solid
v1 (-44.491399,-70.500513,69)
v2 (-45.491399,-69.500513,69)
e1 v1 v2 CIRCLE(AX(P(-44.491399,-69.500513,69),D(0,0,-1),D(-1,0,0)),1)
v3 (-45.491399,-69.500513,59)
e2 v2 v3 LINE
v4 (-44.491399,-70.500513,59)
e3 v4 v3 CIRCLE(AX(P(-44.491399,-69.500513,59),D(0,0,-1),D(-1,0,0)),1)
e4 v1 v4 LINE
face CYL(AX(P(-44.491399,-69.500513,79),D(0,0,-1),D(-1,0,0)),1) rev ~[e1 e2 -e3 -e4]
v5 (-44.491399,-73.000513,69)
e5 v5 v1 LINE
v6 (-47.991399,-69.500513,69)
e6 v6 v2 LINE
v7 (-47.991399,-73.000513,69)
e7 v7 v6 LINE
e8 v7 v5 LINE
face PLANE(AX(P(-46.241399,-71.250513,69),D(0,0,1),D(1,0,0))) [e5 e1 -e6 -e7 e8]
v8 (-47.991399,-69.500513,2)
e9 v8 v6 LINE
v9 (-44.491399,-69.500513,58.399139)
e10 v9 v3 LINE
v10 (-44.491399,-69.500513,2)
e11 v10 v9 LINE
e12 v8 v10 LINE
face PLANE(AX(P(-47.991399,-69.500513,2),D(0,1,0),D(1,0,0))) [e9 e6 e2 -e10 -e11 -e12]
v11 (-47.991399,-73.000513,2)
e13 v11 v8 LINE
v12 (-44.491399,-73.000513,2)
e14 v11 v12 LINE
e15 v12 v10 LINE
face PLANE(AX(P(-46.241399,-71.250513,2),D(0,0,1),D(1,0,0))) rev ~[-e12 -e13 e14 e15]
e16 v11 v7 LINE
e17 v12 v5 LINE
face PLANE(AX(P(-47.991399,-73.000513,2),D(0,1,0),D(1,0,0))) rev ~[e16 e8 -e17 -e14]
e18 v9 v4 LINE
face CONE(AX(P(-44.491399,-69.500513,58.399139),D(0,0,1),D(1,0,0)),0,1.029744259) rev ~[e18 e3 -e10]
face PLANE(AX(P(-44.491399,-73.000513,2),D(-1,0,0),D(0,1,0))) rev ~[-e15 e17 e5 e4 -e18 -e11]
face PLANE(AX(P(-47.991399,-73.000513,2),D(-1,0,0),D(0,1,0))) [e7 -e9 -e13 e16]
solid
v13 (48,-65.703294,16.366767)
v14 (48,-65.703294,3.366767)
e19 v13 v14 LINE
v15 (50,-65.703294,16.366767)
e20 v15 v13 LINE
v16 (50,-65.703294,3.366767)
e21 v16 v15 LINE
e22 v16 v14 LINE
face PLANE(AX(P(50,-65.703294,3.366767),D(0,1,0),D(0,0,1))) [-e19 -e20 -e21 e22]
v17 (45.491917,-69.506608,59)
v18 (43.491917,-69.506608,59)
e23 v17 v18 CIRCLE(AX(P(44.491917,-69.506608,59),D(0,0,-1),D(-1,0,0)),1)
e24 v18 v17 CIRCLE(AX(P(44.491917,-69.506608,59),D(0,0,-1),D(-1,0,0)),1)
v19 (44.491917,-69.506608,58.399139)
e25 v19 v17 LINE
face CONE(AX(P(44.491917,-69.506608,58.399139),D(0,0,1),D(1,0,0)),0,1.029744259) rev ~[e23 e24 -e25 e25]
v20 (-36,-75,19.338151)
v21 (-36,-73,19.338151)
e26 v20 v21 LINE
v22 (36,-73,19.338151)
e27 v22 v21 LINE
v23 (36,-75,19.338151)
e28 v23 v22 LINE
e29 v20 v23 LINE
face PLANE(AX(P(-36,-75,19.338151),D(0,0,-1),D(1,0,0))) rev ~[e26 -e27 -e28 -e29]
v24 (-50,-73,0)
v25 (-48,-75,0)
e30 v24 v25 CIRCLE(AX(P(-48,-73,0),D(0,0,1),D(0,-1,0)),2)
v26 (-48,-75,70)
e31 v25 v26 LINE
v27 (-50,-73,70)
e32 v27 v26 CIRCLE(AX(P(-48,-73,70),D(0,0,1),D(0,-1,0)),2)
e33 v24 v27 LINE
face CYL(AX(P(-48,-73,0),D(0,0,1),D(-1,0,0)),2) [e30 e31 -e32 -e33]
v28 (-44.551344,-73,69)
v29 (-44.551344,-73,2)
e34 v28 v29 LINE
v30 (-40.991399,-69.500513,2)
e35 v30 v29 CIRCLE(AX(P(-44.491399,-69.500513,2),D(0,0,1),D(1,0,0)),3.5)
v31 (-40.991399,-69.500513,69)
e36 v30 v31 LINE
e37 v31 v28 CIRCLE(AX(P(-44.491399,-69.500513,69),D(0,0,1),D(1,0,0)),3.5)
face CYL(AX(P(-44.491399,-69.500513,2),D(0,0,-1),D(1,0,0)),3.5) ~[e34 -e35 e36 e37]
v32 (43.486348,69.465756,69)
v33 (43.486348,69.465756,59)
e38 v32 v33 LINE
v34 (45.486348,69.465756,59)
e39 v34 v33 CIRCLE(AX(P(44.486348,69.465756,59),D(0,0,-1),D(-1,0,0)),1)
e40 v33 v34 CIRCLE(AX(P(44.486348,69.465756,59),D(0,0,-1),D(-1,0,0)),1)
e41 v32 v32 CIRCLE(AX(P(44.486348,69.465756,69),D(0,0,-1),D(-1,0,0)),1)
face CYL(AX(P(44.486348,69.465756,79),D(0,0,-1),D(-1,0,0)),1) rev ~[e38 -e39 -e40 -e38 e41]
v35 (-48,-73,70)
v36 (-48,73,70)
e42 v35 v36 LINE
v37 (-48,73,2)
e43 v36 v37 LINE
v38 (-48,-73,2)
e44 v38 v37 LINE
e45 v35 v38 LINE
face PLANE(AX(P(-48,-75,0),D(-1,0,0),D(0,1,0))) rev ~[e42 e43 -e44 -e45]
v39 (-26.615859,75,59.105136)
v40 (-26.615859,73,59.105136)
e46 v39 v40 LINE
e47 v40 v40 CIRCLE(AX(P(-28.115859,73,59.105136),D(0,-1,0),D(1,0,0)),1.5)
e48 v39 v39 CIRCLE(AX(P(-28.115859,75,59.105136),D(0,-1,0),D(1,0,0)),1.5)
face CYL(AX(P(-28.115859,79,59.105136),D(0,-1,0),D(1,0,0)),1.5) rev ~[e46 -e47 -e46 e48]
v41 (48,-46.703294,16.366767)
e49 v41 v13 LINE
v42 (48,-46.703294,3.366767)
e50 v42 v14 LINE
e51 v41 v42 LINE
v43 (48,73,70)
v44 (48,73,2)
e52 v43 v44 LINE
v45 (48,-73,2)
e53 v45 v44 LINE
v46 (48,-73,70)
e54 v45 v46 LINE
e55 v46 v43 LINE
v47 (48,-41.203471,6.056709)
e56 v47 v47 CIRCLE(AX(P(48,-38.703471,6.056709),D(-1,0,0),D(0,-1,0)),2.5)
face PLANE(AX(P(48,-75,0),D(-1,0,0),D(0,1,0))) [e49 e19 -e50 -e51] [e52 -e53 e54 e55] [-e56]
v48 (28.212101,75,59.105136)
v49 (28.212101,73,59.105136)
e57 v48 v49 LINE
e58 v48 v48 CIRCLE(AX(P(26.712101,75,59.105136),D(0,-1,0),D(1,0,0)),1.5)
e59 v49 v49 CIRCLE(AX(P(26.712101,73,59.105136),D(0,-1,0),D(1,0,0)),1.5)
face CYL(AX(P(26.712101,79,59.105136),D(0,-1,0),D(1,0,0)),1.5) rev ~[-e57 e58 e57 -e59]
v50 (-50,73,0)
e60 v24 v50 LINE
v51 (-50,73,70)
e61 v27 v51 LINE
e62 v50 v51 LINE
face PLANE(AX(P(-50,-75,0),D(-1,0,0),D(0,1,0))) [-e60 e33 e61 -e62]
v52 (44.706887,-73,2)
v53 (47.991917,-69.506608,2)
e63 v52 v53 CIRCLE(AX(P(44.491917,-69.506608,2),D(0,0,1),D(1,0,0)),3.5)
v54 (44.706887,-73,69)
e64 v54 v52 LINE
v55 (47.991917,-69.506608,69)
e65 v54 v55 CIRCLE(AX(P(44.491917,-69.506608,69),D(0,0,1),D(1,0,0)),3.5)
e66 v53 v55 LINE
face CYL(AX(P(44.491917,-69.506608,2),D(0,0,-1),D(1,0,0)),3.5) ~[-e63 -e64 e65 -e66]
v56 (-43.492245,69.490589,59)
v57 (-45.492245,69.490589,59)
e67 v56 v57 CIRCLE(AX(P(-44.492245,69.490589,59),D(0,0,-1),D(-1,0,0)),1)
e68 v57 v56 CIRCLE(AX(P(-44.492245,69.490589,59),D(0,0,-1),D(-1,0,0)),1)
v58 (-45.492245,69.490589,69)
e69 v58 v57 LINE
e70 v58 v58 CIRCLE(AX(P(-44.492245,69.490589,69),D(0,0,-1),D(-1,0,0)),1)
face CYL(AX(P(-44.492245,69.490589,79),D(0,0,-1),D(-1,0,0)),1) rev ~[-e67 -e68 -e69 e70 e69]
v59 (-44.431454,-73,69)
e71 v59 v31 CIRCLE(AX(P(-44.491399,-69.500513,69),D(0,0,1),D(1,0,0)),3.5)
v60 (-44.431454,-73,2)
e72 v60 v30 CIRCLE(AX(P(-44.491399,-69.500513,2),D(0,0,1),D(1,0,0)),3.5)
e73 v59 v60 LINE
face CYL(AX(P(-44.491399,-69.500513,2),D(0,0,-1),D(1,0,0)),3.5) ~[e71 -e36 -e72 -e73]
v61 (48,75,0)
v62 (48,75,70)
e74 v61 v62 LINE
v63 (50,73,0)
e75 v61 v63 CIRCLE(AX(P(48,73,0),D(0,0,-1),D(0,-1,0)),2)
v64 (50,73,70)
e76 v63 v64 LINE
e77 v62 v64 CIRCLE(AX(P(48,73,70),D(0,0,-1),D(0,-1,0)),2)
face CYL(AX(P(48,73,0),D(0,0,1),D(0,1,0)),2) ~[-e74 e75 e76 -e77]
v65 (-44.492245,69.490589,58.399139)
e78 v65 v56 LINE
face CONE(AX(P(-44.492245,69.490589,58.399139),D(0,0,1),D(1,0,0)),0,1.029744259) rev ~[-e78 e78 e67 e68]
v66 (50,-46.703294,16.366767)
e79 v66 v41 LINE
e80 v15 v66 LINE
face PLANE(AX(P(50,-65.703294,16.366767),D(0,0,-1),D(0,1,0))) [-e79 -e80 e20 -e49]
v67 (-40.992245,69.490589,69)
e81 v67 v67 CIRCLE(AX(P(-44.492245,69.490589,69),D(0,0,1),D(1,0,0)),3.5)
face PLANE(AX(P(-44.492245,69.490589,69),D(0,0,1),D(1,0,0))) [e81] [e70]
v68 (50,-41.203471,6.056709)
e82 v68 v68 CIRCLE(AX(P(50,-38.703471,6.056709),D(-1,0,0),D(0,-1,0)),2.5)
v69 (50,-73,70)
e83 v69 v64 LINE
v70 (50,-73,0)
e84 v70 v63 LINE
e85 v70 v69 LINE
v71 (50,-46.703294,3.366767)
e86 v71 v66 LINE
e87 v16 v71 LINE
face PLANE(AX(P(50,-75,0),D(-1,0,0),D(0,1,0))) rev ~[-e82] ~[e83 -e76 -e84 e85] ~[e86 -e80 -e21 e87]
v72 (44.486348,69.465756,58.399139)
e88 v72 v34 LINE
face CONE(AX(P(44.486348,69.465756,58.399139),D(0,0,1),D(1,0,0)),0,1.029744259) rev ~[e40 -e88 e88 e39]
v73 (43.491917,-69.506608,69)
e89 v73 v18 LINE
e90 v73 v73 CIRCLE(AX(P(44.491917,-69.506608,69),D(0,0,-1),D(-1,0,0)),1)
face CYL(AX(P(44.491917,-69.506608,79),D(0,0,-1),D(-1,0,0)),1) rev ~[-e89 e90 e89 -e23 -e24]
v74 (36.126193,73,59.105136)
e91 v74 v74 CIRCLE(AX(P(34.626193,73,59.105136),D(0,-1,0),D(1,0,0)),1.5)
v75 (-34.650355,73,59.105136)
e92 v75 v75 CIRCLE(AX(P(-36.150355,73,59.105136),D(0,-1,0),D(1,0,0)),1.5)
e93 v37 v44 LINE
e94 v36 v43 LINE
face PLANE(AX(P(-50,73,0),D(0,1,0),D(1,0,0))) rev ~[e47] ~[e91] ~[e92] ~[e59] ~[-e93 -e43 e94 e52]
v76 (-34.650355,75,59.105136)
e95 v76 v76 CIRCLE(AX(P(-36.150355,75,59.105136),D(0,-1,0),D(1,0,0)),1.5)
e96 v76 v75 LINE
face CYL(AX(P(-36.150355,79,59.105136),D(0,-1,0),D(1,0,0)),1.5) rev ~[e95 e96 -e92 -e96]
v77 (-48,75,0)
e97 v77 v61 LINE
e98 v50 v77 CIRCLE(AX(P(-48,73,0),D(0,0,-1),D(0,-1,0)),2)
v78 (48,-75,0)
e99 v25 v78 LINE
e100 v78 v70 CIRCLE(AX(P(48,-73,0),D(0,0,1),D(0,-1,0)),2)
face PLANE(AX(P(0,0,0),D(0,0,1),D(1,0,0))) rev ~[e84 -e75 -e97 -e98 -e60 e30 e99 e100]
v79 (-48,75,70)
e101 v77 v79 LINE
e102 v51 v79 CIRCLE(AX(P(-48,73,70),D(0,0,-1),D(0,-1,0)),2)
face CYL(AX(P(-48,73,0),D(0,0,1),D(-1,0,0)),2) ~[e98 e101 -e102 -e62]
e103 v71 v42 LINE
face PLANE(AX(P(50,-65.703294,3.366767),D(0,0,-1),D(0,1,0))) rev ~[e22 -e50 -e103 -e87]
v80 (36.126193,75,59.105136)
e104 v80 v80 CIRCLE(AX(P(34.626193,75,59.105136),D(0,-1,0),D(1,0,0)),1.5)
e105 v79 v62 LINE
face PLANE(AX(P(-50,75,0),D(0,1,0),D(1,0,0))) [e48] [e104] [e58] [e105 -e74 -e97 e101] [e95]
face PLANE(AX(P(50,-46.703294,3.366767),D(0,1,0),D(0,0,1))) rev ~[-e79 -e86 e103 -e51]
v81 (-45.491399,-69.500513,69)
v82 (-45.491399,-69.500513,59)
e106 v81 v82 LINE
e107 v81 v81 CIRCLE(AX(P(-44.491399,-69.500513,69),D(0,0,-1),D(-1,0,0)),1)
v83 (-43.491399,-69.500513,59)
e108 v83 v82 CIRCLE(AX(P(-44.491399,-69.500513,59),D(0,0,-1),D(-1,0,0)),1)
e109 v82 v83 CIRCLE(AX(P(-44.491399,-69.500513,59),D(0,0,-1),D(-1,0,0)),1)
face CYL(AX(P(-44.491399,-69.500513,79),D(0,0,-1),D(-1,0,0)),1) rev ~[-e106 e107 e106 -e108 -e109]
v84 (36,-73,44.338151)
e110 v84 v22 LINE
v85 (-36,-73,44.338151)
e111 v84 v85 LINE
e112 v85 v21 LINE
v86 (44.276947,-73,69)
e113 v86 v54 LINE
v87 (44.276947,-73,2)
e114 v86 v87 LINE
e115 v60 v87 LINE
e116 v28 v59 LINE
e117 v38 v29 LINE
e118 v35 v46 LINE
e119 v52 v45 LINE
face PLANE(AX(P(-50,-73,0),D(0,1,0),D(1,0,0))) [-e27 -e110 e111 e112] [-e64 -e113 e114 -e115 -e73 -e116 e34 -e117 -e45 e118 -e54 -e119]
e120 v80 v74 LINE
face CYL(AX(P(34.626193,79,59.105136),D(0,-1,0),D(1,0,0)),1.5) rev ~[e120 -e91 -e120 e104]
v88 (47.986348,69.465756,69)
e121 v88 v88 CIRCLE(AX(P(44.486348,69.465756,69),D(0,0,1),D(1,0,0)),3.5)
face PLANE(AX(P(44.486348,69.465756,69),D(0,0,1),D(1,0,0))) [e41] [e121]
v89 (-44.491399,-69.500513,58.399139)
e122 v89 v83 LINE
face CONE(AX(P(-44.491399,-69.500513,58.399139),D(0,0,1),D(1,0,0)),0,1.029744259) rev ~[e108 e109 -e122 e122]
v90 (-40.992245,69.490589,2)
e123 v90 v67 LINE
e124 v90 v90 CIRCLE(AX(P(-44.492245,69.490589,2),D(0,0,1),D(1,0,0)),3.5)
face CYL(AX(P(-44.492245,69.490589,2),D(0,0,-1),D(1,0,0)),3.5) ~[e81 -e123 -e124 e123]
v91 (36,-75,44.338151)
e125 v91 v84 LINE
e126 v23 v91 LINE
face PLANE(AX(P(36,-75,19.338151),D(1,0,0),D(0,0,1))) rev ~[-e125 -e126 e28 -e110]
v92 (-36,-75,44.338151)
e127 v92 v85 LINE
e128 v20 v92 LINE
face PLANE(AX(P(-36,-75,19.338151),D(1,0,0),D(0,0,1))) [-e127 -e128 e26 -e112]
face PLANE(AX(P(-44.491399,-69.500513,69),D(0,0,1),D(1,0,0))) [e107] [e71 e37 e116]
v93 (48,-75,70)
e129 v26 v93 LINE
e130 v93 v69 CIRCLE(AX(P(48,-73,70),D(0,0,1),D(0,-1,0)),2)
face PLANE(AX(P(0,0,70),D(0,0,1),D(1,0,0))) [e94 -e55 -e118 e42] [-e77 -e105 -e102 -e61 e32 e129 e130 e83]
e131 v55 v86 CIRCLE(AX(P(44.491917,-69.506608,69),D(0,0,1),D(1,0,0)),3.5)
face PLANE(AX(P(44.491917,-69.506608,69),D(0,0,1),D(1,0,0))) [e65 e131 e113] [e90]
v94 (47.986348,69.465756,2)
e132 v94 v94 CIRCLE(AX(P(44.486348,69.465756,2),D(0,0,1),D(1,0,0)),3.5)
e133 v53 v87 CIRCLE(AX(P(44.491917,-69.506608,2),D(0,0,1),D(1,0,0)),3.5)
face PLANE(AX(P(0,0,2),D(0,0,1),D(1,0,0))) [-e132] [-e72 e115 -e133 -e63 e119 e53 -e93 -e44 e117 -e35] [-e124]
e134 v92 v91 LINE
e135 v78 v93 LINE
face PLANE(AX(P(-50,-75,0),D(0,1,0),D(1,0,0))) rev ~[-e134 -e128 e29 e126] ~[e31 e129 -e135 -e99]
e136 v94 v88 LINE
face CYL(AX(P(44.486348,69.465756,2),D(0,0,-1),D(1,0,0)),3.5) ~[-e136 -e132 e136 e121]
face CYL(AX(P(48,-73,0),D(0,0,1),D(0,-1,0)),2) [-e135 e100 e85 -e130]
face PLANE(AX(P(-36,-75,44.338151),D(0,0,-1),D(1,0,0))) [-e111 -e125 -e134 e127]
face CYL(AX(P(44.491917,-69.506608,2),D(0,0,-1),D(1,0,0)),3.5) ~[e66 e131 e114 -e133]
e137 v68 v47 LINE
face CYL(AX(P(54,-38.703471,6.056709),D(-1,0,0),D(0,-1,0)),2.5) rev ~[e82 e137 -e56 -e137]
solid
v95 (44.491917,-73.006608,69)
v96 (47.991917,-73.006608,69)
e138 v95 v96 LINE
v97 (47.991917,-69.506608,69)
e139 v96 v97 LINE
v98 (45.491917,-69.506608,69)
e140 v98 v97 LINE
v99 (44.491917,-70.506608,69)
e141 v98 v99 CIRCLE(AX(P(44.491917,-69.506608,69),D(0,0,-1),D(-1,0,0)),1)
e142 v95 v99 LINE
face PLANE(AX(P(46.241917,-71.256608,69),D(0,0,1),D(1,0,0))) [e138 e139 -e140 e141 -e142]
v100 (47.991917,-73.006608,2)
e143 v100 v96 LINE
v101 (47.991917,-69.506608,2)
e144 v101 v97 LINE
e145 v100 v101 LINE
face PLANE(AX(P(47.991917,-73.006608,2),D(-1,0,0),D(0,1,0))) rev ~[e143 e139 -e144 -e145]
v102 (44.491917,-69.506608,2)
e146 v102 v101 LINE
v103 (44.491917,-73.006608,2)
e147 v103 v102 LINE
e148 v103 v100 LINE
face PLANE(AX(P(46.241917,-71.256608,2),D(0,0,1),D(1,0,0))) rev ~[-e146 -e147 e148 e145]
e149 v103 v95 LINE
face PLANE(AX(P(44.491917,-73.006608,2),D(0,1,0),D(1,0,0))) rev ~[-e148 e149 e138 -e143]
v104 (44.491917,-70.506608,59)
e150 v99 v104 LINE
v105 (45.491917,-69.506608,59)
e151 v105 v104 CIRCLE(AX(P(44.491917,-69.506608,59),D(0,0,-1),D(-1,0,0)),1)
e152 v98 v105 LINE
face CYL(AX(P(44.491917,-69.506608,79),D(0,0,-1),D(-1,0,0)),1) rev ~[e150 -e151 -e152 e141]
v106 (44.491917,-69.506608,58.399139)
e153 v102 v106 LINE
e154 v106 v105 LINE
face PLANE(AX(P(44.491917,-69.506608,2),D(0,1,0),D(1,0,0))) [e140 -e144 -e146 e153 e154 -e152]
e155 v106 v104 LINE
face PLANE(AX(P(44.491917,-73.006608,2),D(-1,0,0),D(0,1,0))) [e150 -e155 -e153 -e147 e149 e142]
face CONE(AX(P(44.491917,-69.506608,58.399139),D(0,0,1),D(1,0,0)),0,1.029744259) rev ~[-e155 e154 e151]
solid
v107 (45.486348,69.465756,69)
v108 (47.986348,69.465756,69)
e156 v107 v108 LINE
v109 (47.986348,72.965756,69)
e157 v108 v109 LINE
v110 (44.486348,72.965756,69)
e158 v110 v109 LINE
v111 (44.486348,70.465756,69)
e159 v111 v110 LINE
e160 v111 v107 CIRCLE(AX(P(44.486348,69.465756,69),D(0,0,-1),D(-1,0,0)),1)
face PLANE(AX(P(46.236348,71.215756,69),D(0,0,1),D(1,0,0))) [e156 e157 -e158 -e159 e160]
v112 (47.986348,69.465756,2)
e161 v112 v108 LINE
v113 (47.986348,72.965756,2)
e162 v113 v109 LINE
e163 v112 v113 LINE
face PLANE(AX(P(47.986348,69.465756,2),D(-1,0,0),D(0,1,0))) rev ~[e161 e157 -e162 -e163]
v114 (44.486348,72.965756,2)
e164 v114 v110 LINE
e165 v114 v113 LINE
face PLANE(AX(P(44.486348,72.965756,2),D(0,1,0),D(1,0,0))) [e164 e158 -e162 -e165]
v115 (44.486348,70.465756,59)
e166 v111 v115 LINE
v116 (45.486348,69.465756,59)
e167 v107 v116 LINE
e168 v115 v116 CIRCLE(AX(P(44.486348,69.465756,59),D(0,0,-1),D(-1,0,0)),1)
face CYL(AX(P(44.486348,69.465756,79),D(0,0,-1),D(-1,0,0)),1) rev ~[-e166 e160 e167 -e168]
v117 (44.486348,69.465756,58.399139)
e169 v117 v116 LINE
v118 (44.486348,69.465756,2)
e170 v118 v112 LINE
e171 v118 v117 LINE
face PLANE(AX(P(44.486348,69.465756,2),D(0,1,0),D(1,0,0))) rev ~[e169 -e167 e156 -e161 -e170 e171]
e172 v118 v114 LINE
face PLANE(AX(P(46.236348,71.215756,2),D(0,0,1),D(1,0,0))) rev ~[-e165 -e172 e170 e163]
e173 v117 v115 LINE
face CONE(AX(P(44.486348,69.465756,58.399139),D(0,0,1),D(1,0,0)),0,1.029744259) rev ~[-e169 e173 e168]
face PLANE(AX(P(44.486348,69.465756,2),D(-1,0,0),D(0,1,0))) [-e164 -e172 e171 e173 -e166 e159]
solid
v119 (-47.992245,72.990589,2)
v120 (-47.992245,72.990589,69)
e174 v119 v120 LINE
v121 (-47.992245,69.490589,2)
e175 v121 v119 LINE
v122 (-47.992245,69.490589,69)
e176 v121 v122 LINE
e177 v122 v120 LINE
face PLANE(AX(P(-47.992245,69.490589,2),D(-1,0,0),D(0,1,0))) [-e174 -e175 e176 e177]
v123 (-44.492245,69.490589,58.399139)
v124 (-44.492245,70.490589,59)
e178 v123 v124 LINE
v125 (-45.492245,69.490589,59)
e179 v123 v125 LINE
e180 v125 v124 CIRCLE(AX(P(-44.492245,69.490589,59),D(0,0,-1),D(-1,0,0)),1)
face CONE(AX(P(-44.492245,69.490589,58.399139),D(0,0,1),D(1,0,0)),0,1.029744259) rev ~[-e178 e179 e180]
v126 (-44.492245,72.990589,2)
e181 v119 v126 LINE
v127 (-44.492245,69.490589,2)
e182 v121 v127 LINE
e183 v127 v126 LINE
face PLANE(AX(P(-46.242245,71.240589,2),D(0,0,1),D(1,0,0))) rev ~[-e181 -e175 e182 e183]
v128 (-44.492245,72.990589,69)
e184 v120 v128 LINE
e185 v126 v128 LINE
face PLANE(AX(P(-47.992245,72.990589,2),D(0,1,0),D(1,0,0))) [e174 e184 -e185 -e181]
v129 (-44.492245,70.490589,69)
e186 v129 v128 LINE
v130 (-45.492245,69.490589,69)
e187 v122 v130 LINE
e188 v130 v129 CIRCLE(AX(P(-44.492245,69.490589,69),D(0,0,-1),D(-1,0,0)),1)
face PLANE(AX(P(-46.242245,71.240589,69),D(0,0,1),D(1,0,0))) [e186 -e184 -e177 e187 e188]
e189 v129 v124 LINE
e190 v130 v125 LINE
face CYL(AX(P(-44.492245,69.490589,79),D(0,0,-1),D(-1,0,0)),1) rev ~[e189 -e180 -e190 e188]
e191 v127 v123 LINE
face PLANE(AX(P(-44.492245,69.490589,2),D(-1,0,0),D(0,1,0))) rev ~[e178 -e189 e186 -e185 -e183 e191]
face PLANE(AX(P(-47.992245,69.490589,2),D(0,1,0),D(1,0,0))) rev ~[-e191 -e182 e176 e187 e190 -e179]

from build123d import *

# Parameters (mm, degrees)
F0_W               = 100
F0_H               = 150
F1_DEPTH           = 70
F2_T               = -2
F3_W               = 72
F3_H               = 25
F4_DEPTH           = 3
F6_D               = 3
F6_DEPTH           = 4
F6_TIP             = 0.9012909285
F8_D               = 5
F8_DEPTH           = 4
F8_TIP             = 1.5021515476
F9_R               = 2
F10_R              = 3.5
F11_R              = 3.5
F13_R              = 3.5
F12_R              = 3.5
F14_DEPTH          = 67
F15_W              = 3.5
F15_H              = 3.5
F16_DEPTH          = 67
F21_D              = 2
F21_DEPTH          = 10
F21_TIP            = 0.600860619
F21_2_D            = 2
F21_2_DEPTH        = 10
F21_2_TIP          = 0.600860619
F21_ON_F18_D       = 2
F21_ON_F18_DEPTH   = 10
F21_ON_F18_TIP     = 0.600860619
F21_ON_F18_2_D     = 2
F21_ON_F18_2_DEPTH = 10
F21_ON_F18_2_TIP   = 0.600860619
F21_ON_F19_D       = 2
F21_ON_F19_DEPTH   = 10
F21_ON_F19_TIP     = 0.600860619
F21_ON_F19_2_D     = 2
F21_ON_F19_2_DEPTH = 10
F21_ON_F19_2_TIP   = 0.600860619
F21_ON_F20_D       = 2
F21_ON_F20_DEPTH   = 10
F21_ON_F20_TIP     = 0.600860619
F21_ON_F20_2_D     = 2
F21_ON_F20_2_DEPTH = 10
F21_ON_F20_2_TIP   = 0.600860619
F22_W              = 19
F22_H              = 13
F23_DEPTH          = 25.4


with BuildPart() as f1:
    # F0 (on Top) → F1 (new body)
    with BuildSketch(Plane.XY):
        Rectangle(F0_W, F0_H)
    extrude(amount=F1_DEPTH)

    # F2
    f2_openings = [f1.faces().sort_by_distance(p)[0] for p in [
        (0, 0, 70),
    ]]
    offset(amount=F2_T, openings=f2_openings)

    # F3 (on face) → F4 (cut)
    with BuildSketch(Plane.XZ.offset(75)):
        with Locations((0, 31.8381508402)):
            Rectangle(F3_W, F3_H)
    extrude(amount=-F4_DEPTH, mode=Mode.SUBTRACT)

    # F6
    with Locations(Plane(origin=(0, 75, 0), x_dir=(-1, 0, 0), z_dir=(0, 1, 0))):
        with Locations((-34.6261933446, 59.1051355004), (-26.7121009529, 59.1051355004), (28.1158592552, 59.1051355004), (36.150354892, 59.1051355004)):
            Hole(F6_D / 2, depth=F6_DEPTH)
            with Locations((0, 0, -(F6_DEPTH + F6_TIP / 2))):  # 118° drill point
                Cone(0, F6_D / 2, F6_TIP, mode=Mode.SUBTRACT)

    # F8
    with Locations(Plane.YZ.offset(50)):
        with Locations((-38.7034714222, 6.0567087494)):
            Hole(F8_D / 2, depth=F8_DEPTH)
            with Locations((0, 0, -(F8_DEPTH + F8_TIP / 2))):  # 118° drill point
                Cone(0, F8_D / 2, F8_TIP, mode=Mode.SUBTRACT)

    # F9
    f9_edges = [f1.edges().sort_by_distance(p)[0] for p in [
        (-50, -75, 35),
        (-50, 75, 35),
        (50, 75, 35),
        (50, -75, 35),
    ]]
    fillet(f9_edges, radius=F9_R)

    # F10 (on face) + F11 (on face) + F13 (on face) + F12 (on face) → F14 (join)
    with BuildSketch(Plane.XY.offset(2)):
        with Locations((-44.4922447205, 69.4905892015)):
            Circle(F10_R)
    with BuildSketch(Plane.XY.offset(2)):
        with Locations((44.4863475859, 69.4657564163)):
            Circle(F11_R)
    with BuildSketch(Plane.XY.offset(2)):
        with Locations((-44.4913990796, -69.5005133748)):
            Circle(F13_R)
    with BuildSketch(Plane.XY.offset(2)):
        with Locations((44.4919168949, -69.5066079497)):
            Circle(F12_R)
    extrude(amount=F14_DEPTH)

    # F21
    with Locations(Plane.XY.offset(69)):
        with Locations((-44.4913990796, -69.5005133748)):
            Hole(F21_D / 2, depth=F21_DEPTH)
            with Locations((0, 0, -(F21_DEPTH + F21_TIP / 2))):  # 118° drill point
                Cone(0, F21_D / 2, F21_TIP, mode=Mode.SUBTRACT)

    # F21 on F18
    with Locations(Plane.XY.offset(69)):
        with Locations((-44.4922447205, 69.4905892015)):
            Hole(F21_ON_F18_D / 2, depth=F21_ON_F18_DEPTH)
            with Locations((0, 0, -(F21_ON_F18_DEPTH + F21_ON_F18_TIP / 2))):  # 118° drill point
                Cone(0, F21_ON_F18_D / 2, F21_ON_F18_TIP, mode=Mode.SUBTRACT)

    # F21 on F19
    with Locations(Plane.XY.offset(69)):
        with Locations((44.4863475859, 69.4657564163)):
            Hole(F21_ON_F19_D / 2, depth=F21_ON_F19_DEPTH)
            with Locations((0, 0, -(F21_ON_F19_DEPTH + F21_ON_F19_TIP / 2))):  # 118° drill point
                Cone(0, F21_ON_F19_D / 2, F21_ON_F19_TIP, mode=Mode.SUBTRACT)

    # F21 on F20
    with Locations(Plane.XY.offset(69)):
        with Locations((44.4919168949, -69.5066079497)):
            Hole(F21_ON_F20_D / 2, depth=F21_ON_F20_DEPTH)
            with Locations((0, 0, -(F21_ON_F20_DEPTH + F21_ON_F20_TIP / 2))):  # 118° drill point
                Cone(0, F21_ON_F20_D / 2, F21_ON_F20_TIP, mode=Mode.SUBTRACT)

    # F22 (on face) → F23 (cut)
    with BuildSketch(Plane.YZ.offset(50)):
        with Locations((-56.2032939196, 9.8667674288)):
            Rectangle(F22_W, F22_H)
    extrude(amount=-F23_DEPTH, mode=Mode.SUBTRACT)


with BuildPart() as f16:
    # F15 (on face) → F16 (new body)
    with BuildSketch(Plane.XY.offset(2)):
        with Locations((-46.2422447205, 71.2405892015)):
            Rectangle(F15_W, F15_H)
    extrude(amount=F16_DEPTH)

    # F21 on F18#2
    with Locations(Plane.XY.offset(69)):
        with Locations((-44.4922447205, 69.4905892015)):
            Hole(F21_ON_F18_2_D / 2, depth=F21_ON_F18_2_DEPTH)
            with Locations((0, 0, -(F21_ON_F18_2_DEPTH + F21_ON_F18_2_TIP / 2))):  # 118° drill point
                Cone(0, F21_ON_F18_2_D / 2, F21_ON_F18_2_TIP, mode=Mode.SUBTRACT)


with BuildPart() as f16b:
    # F15 (on face) → F16, piece 2 (new body)
    with BuildSketch(Plane.XY.offset(2)):
        with Locations((46.2363475859, 71.2157564163)):
            Rectangle(F15_W, F15_H)
    extrude(amount=F16_DEPTH)

    # F21 on F19#2
    with Locations(Plane.XY.offset(69)):
        with Locations((44.4863475859, 69.4657564163)):
            Hole(F21_ON_F19_2_D / 2, depth=F21_ON_F19_2_DEPTH)
            with Locations((0, 0, -(F21_ON_F19_2_DEPTH + F21_ON_F19_2_TIP / 2))):  # 118° drill point
                Cone(0, F21_ON_F19_2_D / 2, F21_ON_F19_2_TIP, mode=Mode.SUBTRACT)


with BuildPart() as f16c:
    # F15 (on face) → F16, piece 3 (new body)
    with BuildSketch(Plane.XY.offset(2)):
        with Locations((46.2419168949, -71.2566079497)):
            Rectangle(F15_W, F15_H)
    extrude(amount=F16_DEPTH)

    # F21 on F20#2
    with Locations(Plane.XY.offset(69)):
        with Locations((44.4919168949, -69.5066079497)):
            Hole(F21_ON_F20_2_D / 2, depth=F21_ON_F20_2_DEPTH)
            with Locations((0, 0, -(F21_ON_F20_2_DEPTH + F21_ON_F20_2_TIP / 2))):  # 118° drill point
                Cone(0, F21_ON_F20_2_D / 2, F21_ON_F20_2_TIP, mode=Mode.SUBTRACT)


with BuildPart() as f16d:
    # F15 (on face) → F16, piece 4 (new body)
    with BuildSketch(Plane.XY.offset(2)):
        with Locations((-46.2413990796, -71.2505133748)):
            Rectangle(F15_W, F15_H)
    extrude(amount=F16_DEPTH)

    # F21#2
    with Locations(Plane.XY.offset(69)):
        with Locations((-44.4913990796, -69.5005133748)):
            Hole(F21_2_D / 2, depth=F21_2_DEPTH)
            with Locations((0, 0, -(F21_2_DEPTH + F21_2_TIP / 2))):  # 118° drill point
                Cone(0, F21_2_D / 2, F21_2_TIP, mode=Mode.SUBTRACT)


solid = Compound([f1.part, f16.part, f16b.part, f16c.part, f16d.part])
